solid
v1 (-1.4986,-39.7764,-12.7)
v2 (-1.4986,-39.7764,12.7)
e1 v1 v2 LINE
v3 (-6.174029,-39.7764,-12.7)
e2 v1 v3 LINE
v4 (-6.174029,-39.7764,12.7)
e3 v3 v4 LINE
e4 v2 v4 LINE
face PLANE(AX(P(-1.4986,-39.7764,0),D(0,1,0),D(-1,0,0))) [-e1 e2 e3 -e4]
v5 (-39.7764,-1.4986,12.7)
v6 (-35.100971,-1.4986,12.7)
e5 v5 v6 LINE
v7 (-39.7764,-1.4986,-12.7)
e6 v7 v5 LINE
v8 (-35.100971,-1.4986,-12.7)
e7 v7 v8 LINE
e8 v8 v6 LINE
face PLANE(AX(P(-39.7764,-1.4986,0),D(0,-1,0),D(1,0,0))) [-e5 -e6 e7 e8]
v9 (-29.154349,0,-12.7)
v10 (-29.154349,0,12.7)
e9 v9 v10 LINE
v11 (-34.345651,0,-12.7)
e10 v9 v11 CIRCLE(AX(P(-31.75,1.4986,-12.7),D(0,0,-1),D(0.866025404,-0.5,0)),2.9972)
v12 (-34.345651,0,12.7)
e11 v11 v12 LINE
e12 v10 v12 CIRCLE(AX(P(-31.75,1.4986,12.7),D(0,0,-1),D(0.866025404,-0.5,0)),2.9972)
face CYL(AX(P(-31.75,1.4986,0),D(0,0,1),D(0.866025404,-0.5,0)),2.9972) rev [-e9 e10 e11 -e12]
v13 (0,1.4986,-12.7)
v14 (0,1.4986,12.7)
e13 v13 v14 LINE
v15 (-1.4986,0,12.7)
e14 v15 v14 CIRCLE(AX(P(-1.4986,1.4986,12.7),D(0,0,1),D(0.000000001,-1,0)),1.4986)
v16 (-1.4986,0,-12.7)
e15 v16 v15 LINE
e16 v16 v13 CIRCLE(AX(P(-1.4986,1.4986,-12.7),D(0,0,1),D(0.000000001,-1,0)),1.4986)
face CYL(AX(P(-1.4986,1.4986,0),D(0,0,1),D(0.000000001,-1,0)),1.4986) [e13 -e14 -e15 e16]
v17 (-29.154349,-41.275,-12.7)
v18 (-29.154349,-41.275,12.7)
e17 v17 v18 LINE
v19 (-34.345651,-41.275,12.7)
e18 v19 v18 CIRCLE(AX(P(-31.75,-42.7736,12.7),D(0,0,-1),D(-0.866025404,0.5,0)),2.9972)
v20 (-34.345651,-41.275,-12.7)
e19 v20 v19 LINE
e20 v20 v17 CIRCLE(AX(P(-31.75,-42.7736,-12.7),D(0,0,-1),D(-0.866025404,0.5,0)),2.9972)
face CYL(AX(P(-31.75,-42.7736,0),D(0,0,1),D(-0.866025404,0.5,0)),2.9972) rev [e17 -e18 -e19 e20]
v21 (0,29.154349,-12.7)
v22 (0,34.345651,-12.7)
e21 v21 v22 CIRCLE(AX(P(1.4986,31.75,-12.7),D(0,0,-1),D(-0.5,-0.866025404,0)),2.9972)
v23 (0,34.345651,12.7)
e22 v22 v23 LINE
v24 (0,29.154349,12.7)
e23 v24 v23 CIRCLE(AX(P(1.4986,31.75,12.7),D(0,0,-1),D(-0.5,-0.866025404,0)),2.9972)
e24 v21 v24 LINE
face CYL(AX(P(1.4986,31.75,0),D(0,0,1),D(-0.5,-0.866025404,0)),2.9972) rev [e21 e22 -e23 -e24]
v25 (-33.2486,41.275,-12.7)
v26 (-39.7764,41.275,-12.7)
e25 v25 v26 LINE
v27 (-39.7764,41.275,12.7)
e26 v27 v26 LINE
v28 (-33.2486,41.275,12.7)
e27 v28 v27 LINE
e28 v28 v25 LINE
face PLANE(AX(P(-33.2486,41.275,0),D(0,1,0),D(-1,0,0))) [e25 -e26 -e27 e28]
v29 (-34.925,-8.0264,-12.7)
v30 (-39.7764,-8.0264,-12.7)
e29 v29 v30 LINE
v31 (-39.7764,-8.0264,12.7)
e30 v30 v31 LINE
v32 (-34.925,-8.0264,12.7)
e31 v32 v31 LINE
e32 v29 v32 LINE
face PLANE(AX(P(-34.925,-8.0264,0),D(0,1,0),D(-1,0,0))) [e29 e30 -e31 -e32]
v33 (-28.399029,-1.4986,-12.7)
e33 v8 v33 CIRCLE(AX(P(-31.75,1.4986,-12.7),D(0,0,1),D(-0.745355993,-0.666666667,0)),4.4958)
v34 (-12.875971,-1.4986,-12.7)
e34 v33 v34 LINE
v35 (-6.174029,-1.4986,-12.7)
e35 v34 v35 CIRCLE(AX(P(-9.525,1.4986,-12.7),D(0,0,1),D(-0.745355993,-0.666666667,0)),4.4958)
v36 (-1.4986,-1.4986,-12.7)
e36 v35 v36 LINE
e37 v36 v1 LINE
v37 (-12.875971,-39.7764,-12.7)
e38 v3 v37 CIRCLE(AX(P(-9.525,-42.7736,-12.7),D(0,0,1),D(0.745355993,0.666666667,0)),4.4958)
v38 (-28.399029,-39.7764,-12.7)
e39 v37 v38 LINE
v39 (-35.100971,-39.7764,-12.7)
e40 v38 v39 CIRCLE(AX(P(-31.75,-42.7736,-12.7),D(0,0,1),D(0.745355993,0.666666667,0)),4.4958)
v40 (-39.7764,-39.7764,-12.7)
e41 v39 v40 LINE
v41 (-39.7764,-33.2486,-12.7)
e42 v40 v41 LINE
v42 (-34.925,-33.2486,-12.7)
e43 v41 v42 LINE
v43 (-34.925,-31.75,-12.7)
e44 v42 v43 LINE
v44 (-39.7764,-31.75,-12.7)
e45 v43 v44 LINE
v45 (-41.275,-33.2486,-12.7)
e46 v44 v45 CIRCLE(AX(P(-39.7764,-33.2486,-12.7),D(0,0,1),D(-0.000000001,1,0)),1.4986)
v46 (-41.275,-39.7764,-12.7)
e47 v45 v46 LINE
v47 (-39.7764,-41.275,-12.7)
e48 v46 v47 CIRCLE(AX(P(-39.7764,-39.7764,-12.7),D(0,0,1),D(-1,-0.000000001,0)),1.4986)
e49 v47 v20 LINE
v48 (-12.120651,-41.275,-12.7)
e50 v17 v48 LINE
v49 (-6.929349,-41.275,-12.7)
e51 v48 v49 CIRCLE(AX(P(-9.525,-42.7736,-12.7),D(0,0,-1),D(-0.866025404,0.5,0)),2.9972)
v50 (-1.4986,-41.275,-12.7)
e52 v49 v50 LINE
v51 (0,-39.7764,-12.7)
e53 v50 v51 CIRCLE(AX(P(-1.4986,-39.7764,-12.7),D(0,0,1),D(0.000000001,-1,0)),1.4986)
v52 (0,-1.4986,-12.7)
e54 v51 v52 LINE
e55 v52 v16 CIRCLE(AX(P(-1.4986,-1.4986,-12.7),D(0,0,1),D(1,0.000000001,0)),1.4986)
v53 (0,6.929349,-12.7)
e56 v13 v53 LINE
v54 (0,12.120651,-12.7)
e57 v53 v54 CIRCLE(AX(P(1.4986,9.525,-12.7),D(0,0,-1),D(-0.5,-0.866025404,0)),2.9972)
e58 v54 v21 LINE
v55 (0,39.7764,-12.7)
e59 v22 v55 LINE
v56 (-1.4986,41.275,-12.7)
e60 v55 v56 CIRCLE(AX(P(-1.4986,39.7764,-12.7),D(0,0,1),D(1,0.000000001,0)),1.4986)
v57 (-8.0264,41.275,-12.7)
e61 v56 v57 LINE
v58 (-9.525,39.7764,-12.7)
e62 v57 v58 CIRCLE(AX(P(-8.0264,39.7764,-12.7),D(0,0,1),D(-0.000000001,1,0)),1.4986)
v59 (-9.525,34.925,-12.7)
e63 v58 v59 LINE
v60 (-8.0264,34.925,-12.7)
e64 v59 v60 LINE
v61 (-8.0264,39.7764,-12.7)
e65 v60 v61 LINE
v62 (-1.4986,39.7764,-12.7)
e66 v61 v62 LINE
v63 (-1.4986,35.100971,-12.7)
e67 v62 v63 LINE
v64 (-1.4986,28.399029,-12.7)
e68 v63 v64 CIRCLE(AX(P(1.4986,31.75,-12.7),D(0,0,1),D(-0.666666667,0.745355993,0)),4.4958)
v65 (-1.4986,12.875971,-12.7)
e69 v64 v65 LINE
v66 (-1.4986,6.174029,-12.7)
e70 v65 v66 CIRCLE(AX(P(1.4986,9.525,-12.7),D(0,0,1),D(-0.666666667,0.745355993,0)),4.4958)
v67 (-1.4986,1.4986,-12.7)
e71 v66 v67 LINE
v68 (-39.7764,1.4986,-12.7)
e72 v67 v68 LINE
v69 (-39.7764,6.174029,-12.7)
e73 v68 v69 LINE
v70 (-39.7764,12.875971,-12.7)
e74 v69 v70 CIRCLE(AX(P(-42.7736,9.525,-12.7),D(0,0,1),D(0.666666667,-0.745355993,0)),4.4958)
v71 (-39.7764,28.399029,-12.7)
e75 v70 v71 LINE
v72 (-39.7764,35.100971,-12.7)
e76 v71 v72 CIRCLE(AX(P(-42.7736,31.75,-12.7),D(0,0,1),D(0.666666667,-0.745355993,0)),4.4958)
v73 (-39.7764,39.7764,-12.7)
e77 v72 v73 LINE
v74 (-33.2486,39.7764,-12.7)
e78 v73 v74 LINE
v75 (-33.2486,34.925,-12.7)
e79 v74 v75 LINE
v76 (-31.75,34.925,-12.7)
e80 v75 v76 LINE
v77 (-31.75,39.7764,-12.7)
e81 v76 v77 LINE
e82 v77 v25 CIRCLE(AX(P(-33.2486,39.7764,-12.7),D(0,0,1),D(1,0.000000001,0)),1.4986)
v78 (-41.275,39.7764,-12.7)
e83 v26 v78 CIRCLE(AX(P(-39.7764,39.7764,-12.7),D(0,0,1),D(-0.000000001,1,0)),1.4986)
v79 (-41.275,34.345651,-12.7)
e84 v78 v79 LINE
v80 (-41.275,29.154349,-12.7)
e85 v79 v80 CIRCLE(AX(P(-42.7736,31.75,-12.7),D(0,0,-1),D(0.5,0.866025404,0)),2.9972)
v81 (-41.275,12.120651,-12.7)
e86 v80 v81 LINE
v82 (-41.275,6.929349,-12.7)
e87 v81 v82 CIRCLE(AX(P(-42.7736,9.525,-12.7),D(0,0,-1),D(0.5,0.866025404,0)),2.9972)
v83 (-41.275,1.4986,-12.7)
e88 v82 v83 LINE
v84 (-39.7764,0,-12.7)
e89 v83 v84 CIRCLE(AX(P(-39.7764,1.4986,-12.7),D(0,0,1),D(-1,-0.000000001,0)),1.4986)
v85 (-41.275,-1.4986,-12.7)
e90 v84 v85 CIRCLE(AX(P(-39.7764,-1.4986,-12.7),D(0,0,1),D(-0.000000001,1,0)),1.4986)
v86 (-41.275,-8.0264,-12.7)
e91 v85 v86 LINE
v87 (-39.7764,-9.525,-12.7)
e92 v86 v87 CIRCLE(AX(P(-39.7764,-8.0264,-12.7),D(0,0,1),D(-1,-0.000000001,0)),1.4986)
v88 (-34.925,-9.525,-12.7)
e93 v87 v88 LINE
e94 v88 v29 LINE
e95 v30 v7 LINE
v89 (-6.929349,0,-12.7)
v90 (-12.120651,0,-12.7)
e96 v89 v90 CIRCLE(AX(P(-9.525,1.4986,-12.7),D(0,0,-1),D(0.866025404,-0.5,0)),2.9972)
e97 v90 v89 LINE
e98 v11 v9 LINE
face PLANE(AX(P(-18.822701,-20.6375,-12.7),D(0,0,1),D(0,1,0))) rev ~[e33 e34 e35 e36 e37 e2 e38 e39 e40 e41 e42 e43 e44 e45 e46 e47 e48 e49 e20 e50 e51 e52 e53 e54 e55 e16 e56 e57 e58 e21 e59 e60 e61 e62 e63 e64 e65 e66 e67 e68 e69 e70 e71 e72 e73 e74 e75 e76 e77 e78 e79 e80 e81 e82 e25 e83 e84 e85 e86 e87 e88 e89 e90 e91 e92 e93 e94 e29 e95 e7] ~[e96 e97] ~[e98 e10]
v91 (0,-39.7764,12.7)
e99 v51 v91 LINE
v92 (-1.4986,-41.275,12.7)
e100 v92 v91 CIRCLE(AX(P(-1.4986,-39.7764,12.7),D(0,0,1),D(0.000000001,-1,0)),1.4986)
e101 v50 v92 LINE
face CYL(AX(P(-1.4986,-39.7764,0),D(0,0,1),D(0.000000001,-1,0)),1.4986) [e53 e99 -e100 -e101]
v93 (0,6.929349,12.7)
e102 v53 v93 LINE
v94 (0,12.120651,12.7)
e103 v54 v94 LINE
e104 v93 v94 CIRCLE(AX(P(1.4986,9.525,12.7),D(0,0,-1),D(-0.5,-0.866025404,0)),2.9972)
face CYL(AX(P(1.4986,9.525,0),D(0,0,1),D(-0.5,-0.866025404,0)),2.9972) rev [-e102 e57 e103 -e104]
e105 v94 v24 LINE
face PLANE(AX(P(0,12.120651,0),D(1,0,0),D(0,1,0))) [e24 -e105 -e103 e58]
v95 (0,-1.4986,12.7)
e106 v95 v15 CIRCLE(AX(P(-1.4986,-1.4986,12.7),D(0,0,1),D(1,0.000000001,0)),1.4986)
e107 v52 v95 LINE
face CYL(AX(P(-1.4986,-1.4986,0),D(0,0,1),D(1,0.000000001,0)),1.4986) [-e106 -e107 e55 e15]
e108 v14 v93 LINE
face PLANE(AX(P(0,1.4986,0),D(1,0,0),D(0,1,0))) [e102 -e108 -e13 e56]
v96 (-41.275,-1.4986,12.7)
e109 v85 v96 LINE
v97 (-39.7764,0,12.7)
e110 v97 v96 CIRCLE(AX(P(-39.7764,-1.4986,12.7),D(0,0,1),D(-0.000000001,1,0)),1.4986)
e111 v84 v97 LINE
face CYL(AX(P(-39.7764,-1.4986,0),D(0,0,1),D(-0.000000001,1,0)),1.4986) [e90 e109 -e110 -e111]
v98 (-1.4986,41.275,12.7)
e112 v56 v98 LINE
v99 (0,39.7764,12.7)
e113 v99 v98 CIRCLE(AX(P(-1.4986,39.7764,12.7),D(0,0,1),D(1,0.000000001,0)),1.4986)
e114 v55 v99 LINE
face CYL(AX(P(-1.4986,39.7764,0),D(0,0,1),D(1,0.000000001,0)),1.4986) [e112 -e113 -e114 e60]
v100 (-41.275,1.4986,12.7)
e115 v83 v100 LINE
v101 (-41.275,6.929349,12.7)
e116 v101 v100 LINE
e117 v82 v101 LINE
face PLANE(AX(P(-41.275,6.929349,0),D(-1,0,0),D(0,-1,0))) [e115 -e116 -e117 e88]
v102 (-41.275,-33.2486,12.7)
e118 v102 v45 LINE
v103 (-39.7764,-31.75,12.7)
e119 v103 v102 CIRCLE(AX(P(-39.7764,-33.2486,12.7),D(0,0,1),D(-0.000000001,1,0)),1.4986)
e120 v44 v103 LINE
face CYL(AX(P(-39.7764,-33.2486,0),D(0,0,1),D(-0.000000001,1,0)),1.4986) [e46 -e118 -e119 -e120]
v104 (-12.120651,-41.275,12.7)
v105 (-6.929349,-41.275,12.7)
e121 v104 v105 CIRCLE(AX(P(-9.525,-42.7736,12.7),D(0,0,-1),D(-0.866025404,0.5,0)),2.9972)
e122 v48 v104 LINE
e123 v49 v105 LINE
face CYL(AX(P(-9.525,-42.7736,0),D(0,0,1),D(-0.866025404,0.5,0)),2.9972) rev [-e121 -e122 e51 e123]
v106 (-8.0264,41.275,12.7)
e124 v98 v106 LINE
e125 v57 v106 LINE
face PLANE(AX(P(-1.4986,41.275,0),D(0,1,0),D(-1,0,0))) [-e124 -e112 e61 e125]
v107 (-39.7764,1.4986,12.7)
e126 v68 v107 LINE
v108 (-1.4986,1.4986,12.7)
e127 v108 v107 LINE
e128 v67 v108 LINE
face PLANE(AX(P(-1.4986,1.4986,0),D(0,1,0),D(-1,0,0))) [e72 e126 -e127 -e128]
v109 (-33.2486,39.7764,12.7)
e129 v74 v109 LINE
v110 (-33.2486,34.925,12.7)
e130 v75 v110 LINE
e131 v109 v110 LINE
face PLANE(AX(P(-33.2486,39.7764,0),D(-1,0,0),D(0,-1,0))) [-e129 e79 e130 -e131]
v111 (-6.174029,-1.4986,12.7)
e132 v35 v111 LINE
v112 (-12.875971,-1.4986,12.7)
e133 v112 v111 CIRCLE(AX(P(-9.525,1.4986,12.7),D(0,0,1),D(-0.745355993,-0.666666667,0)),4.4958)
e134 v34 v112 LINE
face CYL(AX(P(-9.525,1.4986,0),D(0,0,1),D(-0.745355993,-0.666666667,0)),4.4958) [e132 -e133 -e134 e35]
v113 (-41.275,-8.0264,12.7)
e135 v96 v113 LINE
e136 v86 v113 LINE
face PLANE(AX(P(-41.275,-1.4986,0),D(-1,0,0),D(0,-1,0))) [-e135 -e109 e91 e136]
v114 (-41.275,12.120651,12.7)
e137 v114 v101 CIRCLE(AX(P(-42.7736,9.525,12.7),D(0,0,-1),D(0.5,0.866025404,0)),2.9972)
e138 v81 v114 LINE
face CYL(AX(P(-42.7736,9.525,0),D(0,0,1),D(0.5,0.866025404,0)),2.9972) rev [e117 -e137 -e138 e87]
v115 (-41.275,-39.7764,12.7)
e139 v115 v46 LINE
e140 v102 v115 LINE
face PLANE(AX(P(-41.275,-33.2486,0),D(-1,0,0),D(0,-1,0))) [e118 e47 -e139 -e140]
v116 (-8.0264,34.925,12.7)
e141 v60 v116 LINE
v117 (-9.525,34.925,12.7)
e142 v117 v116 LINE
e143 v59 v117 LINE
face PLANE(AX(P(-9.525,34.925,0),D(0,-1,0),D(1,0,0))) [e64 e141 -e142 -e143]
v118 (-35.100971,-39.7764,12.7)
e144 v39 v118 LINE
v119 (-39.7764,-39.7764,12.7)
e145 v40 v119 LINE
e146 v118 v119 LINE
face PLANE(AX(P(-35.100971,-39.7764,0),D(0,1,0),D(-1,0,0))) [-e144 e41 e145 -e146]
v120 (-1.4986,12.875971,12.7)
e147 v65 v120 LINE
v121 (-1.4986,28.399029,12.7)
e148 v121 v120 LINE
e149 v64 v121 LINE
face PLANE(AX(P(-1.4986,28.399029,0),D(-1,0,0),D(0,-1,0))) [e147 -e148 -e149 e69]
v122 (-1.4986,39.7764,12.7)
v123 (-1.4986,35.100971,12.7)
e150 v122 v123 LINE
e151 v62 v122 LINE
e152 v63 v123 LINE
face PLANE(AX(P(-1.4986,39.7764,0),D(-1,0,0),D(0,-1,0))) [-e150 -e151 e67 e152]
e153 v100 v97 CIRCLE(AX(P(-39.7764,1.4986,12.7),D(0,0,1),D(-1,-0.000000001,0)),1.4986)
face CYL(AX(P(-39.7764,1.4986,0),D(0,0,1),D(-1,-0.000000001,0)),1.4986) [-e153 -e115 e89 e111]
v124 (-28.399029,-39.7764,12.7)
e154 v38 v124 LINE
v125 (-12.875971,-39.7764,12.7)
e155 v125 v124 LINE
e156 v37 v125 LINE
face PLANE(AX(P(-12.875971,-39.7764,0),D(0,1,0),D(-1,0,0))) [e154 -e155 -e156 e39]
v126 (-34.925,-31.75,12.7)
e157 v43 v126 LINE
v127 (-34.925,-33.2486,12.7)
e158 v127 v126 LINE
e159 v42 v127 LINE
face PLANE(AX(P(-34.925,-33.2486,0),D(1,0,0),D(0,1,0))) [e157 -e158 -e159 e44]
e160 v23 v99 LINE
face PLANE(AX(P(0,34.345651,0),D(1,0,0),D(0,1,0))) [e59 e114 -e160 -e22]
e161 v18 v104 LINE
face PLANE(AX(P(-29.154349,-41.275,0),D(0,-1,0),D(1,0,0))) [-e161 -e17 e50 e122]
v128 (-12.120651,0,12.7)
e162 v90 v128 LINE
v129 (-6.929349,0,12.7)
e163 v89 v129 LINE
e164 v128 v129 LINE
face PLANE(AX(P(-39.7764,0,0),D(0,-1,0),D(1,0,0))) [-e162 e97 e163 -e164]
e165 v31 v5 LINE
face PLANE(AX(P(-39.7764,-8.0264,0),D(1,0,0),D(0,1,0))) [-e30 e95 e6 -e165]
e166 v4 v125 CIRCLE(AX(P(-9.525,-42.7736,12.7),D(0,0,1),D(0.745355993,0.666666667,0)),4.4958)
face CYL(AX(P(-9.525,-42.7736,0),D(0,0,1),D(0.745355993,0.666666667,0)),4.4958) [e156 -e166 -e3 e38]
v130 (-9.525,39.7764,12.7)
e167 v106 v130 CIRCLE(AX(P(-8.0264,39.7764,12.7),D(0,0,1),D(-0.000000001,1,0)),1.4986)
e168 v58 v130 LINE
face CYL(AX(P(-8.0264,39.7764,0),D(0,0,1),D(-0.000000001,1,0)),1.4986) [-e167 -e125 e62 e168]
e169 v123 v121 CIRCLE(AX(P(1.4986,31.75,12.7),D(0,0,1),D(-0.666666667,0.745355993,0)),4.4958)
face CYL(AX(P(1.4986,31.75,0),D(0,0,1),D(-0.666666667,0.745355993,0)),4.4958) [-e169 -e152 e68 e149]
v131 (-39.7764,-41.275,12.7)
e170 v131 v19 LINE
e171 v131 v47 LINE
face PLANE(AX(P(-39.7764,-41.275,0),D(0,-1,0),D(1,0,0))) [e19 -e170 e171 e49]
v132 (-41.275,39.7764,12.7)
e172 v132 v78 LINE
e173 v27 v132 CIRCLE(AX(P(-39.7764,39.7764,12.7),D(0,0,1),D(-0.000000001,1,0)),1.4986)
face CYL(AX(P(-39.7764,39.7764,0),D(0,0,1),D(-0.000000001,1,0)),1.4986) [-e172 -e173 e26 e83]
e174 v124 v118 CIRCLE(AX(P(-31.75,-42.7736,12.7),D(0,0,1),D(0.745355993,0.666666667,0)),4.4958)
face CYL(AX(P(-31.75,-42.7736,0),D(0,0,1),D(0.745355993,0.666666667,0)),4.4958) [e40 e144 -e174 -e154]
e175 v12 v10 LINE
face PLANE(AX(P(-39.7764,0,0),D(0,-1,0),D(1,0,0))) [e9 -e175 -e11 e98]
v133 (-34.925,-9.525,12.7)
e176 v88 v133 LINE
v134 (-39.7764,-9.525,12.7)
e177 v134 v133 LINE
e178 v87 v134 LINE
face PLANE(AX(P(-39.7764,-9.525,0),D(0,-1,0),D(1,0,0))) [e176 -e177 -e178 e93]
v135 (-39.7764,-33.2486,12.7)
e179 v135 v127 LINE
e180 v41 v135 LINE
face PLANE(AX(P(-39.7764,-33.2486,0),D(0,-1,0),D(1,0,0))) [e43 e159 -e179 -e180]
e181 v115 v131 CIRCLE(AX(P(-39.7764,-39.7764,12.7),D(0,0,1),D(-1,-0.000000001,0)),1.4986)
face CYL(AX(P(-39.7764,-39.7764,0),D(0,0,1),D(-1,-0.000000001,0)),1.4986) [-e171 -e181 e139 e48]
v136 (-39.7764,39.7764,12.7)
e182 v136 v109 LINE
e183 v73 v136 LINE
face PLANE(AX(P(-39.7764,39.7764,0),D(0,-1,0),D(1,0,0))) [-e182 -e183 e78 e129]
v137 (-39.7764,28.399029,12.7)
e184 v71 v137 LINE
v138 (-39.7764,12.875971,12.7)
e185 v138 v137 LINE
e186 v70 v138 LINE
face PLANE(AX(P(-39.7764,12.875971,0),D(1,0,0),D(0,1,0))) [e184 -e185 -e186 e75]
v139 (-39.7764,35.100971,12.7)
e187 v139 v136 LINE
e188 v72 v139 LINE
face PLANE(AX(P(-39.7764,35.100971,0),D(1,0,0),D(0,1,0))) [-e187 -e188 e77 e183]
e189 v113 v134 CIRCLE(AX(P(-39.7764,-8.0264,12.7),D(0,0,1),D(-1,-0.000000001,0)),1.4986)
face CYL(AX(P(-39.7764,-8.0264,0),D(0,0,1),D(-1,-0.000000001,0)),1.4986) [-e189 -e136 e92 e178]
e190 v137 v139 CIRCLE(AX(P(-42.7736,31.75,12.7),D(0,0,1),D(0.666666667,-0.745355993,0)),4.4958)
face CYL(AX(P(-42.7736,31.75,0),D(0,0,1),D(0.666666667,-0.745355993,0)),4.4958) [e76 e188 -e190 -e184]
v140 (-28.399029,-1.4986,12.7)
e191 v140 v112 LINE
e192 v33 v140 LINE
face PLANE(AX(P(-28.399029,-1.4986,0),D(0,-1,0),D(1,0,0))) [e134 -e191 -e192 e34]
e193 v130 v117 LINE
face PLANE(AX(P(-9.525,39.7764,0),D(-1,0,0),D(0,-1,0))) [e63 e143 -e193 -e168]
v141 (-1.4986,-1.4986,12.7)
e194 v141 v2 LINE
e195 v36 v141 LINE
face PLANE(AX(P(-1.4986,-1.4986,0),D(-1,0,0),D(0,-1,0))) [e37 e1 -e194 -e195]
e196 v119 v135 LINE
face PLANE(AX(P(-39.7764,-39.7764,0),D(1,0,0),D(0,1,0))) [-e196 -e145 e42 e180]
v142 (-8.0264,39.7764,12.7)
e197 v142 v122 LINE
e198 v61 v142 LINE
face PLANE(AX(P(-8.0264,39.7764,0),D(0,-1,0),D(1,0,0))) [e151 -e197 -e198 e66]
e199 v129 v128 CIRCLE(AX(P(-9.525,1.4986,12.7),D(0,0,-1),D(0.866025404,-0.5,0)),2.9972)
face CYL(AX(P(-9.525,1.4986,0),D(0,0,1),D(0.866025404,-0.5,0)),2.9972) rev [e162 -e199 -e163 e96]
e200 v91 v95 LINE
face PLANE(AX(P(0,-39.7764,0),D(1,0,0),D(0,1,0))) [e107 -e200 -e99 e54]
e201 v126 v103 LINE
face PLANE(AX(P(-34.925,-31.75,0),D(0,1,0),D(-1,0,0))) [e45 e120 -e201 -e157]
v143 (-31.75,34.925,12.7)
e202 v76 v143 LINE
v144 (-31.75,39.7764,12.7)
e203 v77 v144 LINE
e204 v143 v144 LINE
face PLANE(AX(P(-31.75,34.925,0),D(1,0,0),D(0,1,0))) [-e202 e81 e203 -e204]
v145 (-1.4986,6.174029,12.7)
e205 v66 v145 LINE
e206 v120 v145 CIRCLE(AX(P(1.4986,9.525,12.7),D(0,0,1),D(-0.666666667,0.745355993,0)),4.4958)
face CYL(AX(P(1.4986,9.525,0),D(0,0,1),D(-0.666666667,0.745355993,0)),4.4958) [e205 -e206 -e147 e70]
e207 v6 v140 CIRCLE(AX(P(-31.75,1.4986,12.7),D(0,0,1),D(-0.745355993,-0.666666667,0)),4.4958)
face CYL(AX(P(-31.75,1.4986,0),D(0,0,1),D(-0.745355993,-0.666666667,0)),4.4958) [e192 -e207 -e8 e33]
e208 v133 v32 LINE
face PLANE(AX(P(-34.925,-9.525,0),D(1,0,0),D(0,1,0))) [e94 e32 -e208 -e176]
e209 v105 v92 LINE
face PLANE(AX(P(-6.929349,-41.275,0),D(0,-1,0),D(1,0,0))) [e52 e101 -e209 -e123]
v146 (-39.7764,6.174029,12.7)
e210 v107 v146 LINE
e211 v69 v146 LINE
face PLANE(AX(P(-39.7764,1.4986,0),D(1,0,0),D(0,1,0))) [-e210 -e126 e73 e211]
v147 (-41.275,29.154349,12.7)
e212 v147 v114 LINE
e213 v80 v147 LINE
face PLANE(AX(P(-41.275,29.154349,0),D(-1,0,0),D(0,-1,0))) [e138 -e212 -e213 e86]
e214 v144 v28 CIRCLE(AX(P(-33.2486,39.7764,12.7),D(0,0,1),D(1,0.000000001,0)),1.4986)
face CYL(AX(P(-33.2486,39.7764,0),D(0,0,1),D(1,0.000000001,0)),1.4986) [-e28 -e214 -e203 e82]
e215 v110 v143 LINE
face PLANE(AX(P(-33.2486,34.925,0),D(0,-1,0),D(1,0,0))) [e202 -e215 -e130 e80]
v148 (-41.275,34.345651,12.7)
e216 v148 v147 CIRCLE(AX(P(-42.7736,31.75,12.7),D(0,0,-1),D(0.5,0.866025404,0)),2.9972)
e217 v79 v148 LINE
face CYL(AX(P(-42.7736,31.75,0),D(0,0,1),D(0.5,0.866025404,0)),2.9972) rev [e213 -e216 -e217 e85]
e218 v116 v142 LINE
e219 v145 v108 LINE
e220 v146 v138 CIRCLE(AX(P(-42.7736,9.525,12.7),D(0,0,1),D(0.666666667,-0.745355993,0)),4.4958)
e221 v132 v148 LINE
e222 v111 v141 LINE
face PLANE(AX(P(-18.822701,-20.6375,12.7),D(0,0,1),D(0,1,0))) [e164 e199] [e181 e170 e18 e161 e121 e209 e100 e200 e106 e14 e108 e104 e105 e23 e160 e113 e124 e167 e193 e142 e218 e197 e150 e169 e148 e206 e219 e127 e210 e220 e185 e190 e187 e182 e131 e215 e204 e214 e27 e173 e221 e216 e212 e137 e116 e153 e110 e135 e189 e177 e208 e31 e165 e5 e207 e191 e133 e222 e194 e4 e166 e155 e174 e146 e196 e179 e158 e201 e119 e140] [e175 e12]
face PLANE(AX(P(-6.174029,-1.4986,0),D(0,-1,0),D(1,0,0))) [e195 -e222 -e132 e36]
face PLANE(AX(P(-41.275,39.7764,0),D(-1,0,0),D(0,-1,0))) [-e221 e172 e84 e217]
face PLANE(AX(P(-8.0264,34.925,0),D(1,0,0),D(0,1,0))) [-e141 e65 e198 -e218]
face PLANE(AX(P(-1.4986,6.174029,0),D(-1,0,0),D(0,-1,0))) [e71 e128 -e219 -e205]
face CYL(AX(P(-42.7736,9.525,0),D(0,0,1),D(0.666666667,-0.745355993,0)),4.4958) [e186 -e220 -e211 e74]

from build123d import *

# Parameters (mm, degrees)
BASE_EXTRUDE_DEPTH = 12.7
CIRPATTERN1_COUNT  = 2
CIRPATTERN1_ANGLE  = 90


with BuildPart() as part:
    # Sketch1 → Base-Extrude (new, symmetric)
    with BuildSketch(Plane.XY):
        with BuildLine():
            Line((-41.275, 39.7764), (-41.275, 34.34565134))
            ThreePointArc((-41.275, 34.34565134), (-39.7764, 31.75), (-41.275, 29.15434866))
            Line((-41.275, 29.15434866), (-41.275, 12.12065134))
            ThreePointArc((-41.275, 12.12065134), (-39.7764, 9.525), (-41.275, 6.92934866))
            Line((-41.275, 6.92934866), (-41.275, 1.4986))
            ThreePointArc((-41.275, 1.4986), (-40.836070222, 0.438929778), (-39.7764, 0))
            Line((-39.7764, 0), (-1.4986, 0))
            ThreePointArc((-1.4986, 0), (-0.438929778, 0.438929778), (0, 1.4986))
            Line((0, 1.4986), (0, 6.92934866))
            ThreePointArc((0, 6.92934866), (-1.4986, 9.525), (0, 12.12065134))
            Line((0, 12.12065134), (0, 29.15434866))
            ThreePointArc((0, 29.15434866), (-1.4986, 31.75), (0, 34.34565134))
            Line((0, 34.34565134), (0, 39.7764))
            ThreePointArc((0, 39.7764), (-0.438929778, 40.836070222), (-1.4986, 41.275))
            Line((-1.4986, 41.275), (-8.0264, 41.275))
            ThreePointArc((-8.0264, 41.275), (-9.086070222, 40.836070222), (-9.525, 39.7764))
            Line((-9.525, 39.7764), (-9.525, 34.925))
            Line((-9.525, 34.925), (-8.0264, 34.925))
            Line((-8.0264, 34.925), (-8.0264, 39.7764))
            Line((-8.0264, 39.7764), (-1.4986, 39.7764))
            Line((-1.4986, 39.7764), (-1.4986, 35.100971471))
            ThreePointArc((-1.4986, 35.100971471), (-2.9972, 31.75), (-1.4986, 28.399028529))
            Line((-1.4986, 28.399028529), (-1.4986, 12.875971471))
            ThreePointArc((-1.4986, 12.875971471), (-2.9972, 9.525), (-1.4986, 6.174028529))
            Line((-1.4986, 6.174028529), (-1.4986, 1.4986))
            Line((-1.4986, 1.4986), (-39.7764, 1.4986))
            Line((-39.7764, 1.4986), (-39.7764, 6.174028529))
            ThreePointArc((-39.7764, 6.174028529), (-38.2778, 9.525), (-39.7764, 12.875971471))
            Line((-39.7764, 12.875971471), (-39.7764, 28.399028529))
            ThreePointArc((-39.7764, 28.399028529), (-38.2778, 31.75), (-39.7764, 35.100971471))
            Line((-39.7764, 35.100971471), (-39.7764, 39.7764))
            Line((-39.7764, 39.7764), (-33.2486, 39.7764))
            Line((-33.2486, 39.7764), (-33.2486, 34.925))
            Line((-33.2486, 34.925), (-31.75, 34.925))
            Line((-31.75, 34.925), (-31.75, 39.7764))
            ThreePointArc((-31.75, 39.7764), (-32.188929778, 40.836070222), (-33.2486, 41.275))
            Line((-33.2486, 41.275), (-39.7764, 41.275))
            ThreePointArc((-39.7764, 41.275), (-40.836070222, 40.836070222), (-41.275, 39.7764))
        make_face()
    base_extrude = extrude(amount=BASE_EXTRUDE_DEPTH, both=True)

    # CirPattern1: Base-Extrude ×2 about axis
    cirpattern1_axis = Axis((0, 0, 0), (0, 0, 1))
    for i in range(1, CIRPATTERN1_COUNT):
        add(base_extrude.rotate(cirpattern1_axis, i * CIRPATTERN1_ANGLE / (CIRPATTERN1_COUNT - 1)))


solid = part.part
